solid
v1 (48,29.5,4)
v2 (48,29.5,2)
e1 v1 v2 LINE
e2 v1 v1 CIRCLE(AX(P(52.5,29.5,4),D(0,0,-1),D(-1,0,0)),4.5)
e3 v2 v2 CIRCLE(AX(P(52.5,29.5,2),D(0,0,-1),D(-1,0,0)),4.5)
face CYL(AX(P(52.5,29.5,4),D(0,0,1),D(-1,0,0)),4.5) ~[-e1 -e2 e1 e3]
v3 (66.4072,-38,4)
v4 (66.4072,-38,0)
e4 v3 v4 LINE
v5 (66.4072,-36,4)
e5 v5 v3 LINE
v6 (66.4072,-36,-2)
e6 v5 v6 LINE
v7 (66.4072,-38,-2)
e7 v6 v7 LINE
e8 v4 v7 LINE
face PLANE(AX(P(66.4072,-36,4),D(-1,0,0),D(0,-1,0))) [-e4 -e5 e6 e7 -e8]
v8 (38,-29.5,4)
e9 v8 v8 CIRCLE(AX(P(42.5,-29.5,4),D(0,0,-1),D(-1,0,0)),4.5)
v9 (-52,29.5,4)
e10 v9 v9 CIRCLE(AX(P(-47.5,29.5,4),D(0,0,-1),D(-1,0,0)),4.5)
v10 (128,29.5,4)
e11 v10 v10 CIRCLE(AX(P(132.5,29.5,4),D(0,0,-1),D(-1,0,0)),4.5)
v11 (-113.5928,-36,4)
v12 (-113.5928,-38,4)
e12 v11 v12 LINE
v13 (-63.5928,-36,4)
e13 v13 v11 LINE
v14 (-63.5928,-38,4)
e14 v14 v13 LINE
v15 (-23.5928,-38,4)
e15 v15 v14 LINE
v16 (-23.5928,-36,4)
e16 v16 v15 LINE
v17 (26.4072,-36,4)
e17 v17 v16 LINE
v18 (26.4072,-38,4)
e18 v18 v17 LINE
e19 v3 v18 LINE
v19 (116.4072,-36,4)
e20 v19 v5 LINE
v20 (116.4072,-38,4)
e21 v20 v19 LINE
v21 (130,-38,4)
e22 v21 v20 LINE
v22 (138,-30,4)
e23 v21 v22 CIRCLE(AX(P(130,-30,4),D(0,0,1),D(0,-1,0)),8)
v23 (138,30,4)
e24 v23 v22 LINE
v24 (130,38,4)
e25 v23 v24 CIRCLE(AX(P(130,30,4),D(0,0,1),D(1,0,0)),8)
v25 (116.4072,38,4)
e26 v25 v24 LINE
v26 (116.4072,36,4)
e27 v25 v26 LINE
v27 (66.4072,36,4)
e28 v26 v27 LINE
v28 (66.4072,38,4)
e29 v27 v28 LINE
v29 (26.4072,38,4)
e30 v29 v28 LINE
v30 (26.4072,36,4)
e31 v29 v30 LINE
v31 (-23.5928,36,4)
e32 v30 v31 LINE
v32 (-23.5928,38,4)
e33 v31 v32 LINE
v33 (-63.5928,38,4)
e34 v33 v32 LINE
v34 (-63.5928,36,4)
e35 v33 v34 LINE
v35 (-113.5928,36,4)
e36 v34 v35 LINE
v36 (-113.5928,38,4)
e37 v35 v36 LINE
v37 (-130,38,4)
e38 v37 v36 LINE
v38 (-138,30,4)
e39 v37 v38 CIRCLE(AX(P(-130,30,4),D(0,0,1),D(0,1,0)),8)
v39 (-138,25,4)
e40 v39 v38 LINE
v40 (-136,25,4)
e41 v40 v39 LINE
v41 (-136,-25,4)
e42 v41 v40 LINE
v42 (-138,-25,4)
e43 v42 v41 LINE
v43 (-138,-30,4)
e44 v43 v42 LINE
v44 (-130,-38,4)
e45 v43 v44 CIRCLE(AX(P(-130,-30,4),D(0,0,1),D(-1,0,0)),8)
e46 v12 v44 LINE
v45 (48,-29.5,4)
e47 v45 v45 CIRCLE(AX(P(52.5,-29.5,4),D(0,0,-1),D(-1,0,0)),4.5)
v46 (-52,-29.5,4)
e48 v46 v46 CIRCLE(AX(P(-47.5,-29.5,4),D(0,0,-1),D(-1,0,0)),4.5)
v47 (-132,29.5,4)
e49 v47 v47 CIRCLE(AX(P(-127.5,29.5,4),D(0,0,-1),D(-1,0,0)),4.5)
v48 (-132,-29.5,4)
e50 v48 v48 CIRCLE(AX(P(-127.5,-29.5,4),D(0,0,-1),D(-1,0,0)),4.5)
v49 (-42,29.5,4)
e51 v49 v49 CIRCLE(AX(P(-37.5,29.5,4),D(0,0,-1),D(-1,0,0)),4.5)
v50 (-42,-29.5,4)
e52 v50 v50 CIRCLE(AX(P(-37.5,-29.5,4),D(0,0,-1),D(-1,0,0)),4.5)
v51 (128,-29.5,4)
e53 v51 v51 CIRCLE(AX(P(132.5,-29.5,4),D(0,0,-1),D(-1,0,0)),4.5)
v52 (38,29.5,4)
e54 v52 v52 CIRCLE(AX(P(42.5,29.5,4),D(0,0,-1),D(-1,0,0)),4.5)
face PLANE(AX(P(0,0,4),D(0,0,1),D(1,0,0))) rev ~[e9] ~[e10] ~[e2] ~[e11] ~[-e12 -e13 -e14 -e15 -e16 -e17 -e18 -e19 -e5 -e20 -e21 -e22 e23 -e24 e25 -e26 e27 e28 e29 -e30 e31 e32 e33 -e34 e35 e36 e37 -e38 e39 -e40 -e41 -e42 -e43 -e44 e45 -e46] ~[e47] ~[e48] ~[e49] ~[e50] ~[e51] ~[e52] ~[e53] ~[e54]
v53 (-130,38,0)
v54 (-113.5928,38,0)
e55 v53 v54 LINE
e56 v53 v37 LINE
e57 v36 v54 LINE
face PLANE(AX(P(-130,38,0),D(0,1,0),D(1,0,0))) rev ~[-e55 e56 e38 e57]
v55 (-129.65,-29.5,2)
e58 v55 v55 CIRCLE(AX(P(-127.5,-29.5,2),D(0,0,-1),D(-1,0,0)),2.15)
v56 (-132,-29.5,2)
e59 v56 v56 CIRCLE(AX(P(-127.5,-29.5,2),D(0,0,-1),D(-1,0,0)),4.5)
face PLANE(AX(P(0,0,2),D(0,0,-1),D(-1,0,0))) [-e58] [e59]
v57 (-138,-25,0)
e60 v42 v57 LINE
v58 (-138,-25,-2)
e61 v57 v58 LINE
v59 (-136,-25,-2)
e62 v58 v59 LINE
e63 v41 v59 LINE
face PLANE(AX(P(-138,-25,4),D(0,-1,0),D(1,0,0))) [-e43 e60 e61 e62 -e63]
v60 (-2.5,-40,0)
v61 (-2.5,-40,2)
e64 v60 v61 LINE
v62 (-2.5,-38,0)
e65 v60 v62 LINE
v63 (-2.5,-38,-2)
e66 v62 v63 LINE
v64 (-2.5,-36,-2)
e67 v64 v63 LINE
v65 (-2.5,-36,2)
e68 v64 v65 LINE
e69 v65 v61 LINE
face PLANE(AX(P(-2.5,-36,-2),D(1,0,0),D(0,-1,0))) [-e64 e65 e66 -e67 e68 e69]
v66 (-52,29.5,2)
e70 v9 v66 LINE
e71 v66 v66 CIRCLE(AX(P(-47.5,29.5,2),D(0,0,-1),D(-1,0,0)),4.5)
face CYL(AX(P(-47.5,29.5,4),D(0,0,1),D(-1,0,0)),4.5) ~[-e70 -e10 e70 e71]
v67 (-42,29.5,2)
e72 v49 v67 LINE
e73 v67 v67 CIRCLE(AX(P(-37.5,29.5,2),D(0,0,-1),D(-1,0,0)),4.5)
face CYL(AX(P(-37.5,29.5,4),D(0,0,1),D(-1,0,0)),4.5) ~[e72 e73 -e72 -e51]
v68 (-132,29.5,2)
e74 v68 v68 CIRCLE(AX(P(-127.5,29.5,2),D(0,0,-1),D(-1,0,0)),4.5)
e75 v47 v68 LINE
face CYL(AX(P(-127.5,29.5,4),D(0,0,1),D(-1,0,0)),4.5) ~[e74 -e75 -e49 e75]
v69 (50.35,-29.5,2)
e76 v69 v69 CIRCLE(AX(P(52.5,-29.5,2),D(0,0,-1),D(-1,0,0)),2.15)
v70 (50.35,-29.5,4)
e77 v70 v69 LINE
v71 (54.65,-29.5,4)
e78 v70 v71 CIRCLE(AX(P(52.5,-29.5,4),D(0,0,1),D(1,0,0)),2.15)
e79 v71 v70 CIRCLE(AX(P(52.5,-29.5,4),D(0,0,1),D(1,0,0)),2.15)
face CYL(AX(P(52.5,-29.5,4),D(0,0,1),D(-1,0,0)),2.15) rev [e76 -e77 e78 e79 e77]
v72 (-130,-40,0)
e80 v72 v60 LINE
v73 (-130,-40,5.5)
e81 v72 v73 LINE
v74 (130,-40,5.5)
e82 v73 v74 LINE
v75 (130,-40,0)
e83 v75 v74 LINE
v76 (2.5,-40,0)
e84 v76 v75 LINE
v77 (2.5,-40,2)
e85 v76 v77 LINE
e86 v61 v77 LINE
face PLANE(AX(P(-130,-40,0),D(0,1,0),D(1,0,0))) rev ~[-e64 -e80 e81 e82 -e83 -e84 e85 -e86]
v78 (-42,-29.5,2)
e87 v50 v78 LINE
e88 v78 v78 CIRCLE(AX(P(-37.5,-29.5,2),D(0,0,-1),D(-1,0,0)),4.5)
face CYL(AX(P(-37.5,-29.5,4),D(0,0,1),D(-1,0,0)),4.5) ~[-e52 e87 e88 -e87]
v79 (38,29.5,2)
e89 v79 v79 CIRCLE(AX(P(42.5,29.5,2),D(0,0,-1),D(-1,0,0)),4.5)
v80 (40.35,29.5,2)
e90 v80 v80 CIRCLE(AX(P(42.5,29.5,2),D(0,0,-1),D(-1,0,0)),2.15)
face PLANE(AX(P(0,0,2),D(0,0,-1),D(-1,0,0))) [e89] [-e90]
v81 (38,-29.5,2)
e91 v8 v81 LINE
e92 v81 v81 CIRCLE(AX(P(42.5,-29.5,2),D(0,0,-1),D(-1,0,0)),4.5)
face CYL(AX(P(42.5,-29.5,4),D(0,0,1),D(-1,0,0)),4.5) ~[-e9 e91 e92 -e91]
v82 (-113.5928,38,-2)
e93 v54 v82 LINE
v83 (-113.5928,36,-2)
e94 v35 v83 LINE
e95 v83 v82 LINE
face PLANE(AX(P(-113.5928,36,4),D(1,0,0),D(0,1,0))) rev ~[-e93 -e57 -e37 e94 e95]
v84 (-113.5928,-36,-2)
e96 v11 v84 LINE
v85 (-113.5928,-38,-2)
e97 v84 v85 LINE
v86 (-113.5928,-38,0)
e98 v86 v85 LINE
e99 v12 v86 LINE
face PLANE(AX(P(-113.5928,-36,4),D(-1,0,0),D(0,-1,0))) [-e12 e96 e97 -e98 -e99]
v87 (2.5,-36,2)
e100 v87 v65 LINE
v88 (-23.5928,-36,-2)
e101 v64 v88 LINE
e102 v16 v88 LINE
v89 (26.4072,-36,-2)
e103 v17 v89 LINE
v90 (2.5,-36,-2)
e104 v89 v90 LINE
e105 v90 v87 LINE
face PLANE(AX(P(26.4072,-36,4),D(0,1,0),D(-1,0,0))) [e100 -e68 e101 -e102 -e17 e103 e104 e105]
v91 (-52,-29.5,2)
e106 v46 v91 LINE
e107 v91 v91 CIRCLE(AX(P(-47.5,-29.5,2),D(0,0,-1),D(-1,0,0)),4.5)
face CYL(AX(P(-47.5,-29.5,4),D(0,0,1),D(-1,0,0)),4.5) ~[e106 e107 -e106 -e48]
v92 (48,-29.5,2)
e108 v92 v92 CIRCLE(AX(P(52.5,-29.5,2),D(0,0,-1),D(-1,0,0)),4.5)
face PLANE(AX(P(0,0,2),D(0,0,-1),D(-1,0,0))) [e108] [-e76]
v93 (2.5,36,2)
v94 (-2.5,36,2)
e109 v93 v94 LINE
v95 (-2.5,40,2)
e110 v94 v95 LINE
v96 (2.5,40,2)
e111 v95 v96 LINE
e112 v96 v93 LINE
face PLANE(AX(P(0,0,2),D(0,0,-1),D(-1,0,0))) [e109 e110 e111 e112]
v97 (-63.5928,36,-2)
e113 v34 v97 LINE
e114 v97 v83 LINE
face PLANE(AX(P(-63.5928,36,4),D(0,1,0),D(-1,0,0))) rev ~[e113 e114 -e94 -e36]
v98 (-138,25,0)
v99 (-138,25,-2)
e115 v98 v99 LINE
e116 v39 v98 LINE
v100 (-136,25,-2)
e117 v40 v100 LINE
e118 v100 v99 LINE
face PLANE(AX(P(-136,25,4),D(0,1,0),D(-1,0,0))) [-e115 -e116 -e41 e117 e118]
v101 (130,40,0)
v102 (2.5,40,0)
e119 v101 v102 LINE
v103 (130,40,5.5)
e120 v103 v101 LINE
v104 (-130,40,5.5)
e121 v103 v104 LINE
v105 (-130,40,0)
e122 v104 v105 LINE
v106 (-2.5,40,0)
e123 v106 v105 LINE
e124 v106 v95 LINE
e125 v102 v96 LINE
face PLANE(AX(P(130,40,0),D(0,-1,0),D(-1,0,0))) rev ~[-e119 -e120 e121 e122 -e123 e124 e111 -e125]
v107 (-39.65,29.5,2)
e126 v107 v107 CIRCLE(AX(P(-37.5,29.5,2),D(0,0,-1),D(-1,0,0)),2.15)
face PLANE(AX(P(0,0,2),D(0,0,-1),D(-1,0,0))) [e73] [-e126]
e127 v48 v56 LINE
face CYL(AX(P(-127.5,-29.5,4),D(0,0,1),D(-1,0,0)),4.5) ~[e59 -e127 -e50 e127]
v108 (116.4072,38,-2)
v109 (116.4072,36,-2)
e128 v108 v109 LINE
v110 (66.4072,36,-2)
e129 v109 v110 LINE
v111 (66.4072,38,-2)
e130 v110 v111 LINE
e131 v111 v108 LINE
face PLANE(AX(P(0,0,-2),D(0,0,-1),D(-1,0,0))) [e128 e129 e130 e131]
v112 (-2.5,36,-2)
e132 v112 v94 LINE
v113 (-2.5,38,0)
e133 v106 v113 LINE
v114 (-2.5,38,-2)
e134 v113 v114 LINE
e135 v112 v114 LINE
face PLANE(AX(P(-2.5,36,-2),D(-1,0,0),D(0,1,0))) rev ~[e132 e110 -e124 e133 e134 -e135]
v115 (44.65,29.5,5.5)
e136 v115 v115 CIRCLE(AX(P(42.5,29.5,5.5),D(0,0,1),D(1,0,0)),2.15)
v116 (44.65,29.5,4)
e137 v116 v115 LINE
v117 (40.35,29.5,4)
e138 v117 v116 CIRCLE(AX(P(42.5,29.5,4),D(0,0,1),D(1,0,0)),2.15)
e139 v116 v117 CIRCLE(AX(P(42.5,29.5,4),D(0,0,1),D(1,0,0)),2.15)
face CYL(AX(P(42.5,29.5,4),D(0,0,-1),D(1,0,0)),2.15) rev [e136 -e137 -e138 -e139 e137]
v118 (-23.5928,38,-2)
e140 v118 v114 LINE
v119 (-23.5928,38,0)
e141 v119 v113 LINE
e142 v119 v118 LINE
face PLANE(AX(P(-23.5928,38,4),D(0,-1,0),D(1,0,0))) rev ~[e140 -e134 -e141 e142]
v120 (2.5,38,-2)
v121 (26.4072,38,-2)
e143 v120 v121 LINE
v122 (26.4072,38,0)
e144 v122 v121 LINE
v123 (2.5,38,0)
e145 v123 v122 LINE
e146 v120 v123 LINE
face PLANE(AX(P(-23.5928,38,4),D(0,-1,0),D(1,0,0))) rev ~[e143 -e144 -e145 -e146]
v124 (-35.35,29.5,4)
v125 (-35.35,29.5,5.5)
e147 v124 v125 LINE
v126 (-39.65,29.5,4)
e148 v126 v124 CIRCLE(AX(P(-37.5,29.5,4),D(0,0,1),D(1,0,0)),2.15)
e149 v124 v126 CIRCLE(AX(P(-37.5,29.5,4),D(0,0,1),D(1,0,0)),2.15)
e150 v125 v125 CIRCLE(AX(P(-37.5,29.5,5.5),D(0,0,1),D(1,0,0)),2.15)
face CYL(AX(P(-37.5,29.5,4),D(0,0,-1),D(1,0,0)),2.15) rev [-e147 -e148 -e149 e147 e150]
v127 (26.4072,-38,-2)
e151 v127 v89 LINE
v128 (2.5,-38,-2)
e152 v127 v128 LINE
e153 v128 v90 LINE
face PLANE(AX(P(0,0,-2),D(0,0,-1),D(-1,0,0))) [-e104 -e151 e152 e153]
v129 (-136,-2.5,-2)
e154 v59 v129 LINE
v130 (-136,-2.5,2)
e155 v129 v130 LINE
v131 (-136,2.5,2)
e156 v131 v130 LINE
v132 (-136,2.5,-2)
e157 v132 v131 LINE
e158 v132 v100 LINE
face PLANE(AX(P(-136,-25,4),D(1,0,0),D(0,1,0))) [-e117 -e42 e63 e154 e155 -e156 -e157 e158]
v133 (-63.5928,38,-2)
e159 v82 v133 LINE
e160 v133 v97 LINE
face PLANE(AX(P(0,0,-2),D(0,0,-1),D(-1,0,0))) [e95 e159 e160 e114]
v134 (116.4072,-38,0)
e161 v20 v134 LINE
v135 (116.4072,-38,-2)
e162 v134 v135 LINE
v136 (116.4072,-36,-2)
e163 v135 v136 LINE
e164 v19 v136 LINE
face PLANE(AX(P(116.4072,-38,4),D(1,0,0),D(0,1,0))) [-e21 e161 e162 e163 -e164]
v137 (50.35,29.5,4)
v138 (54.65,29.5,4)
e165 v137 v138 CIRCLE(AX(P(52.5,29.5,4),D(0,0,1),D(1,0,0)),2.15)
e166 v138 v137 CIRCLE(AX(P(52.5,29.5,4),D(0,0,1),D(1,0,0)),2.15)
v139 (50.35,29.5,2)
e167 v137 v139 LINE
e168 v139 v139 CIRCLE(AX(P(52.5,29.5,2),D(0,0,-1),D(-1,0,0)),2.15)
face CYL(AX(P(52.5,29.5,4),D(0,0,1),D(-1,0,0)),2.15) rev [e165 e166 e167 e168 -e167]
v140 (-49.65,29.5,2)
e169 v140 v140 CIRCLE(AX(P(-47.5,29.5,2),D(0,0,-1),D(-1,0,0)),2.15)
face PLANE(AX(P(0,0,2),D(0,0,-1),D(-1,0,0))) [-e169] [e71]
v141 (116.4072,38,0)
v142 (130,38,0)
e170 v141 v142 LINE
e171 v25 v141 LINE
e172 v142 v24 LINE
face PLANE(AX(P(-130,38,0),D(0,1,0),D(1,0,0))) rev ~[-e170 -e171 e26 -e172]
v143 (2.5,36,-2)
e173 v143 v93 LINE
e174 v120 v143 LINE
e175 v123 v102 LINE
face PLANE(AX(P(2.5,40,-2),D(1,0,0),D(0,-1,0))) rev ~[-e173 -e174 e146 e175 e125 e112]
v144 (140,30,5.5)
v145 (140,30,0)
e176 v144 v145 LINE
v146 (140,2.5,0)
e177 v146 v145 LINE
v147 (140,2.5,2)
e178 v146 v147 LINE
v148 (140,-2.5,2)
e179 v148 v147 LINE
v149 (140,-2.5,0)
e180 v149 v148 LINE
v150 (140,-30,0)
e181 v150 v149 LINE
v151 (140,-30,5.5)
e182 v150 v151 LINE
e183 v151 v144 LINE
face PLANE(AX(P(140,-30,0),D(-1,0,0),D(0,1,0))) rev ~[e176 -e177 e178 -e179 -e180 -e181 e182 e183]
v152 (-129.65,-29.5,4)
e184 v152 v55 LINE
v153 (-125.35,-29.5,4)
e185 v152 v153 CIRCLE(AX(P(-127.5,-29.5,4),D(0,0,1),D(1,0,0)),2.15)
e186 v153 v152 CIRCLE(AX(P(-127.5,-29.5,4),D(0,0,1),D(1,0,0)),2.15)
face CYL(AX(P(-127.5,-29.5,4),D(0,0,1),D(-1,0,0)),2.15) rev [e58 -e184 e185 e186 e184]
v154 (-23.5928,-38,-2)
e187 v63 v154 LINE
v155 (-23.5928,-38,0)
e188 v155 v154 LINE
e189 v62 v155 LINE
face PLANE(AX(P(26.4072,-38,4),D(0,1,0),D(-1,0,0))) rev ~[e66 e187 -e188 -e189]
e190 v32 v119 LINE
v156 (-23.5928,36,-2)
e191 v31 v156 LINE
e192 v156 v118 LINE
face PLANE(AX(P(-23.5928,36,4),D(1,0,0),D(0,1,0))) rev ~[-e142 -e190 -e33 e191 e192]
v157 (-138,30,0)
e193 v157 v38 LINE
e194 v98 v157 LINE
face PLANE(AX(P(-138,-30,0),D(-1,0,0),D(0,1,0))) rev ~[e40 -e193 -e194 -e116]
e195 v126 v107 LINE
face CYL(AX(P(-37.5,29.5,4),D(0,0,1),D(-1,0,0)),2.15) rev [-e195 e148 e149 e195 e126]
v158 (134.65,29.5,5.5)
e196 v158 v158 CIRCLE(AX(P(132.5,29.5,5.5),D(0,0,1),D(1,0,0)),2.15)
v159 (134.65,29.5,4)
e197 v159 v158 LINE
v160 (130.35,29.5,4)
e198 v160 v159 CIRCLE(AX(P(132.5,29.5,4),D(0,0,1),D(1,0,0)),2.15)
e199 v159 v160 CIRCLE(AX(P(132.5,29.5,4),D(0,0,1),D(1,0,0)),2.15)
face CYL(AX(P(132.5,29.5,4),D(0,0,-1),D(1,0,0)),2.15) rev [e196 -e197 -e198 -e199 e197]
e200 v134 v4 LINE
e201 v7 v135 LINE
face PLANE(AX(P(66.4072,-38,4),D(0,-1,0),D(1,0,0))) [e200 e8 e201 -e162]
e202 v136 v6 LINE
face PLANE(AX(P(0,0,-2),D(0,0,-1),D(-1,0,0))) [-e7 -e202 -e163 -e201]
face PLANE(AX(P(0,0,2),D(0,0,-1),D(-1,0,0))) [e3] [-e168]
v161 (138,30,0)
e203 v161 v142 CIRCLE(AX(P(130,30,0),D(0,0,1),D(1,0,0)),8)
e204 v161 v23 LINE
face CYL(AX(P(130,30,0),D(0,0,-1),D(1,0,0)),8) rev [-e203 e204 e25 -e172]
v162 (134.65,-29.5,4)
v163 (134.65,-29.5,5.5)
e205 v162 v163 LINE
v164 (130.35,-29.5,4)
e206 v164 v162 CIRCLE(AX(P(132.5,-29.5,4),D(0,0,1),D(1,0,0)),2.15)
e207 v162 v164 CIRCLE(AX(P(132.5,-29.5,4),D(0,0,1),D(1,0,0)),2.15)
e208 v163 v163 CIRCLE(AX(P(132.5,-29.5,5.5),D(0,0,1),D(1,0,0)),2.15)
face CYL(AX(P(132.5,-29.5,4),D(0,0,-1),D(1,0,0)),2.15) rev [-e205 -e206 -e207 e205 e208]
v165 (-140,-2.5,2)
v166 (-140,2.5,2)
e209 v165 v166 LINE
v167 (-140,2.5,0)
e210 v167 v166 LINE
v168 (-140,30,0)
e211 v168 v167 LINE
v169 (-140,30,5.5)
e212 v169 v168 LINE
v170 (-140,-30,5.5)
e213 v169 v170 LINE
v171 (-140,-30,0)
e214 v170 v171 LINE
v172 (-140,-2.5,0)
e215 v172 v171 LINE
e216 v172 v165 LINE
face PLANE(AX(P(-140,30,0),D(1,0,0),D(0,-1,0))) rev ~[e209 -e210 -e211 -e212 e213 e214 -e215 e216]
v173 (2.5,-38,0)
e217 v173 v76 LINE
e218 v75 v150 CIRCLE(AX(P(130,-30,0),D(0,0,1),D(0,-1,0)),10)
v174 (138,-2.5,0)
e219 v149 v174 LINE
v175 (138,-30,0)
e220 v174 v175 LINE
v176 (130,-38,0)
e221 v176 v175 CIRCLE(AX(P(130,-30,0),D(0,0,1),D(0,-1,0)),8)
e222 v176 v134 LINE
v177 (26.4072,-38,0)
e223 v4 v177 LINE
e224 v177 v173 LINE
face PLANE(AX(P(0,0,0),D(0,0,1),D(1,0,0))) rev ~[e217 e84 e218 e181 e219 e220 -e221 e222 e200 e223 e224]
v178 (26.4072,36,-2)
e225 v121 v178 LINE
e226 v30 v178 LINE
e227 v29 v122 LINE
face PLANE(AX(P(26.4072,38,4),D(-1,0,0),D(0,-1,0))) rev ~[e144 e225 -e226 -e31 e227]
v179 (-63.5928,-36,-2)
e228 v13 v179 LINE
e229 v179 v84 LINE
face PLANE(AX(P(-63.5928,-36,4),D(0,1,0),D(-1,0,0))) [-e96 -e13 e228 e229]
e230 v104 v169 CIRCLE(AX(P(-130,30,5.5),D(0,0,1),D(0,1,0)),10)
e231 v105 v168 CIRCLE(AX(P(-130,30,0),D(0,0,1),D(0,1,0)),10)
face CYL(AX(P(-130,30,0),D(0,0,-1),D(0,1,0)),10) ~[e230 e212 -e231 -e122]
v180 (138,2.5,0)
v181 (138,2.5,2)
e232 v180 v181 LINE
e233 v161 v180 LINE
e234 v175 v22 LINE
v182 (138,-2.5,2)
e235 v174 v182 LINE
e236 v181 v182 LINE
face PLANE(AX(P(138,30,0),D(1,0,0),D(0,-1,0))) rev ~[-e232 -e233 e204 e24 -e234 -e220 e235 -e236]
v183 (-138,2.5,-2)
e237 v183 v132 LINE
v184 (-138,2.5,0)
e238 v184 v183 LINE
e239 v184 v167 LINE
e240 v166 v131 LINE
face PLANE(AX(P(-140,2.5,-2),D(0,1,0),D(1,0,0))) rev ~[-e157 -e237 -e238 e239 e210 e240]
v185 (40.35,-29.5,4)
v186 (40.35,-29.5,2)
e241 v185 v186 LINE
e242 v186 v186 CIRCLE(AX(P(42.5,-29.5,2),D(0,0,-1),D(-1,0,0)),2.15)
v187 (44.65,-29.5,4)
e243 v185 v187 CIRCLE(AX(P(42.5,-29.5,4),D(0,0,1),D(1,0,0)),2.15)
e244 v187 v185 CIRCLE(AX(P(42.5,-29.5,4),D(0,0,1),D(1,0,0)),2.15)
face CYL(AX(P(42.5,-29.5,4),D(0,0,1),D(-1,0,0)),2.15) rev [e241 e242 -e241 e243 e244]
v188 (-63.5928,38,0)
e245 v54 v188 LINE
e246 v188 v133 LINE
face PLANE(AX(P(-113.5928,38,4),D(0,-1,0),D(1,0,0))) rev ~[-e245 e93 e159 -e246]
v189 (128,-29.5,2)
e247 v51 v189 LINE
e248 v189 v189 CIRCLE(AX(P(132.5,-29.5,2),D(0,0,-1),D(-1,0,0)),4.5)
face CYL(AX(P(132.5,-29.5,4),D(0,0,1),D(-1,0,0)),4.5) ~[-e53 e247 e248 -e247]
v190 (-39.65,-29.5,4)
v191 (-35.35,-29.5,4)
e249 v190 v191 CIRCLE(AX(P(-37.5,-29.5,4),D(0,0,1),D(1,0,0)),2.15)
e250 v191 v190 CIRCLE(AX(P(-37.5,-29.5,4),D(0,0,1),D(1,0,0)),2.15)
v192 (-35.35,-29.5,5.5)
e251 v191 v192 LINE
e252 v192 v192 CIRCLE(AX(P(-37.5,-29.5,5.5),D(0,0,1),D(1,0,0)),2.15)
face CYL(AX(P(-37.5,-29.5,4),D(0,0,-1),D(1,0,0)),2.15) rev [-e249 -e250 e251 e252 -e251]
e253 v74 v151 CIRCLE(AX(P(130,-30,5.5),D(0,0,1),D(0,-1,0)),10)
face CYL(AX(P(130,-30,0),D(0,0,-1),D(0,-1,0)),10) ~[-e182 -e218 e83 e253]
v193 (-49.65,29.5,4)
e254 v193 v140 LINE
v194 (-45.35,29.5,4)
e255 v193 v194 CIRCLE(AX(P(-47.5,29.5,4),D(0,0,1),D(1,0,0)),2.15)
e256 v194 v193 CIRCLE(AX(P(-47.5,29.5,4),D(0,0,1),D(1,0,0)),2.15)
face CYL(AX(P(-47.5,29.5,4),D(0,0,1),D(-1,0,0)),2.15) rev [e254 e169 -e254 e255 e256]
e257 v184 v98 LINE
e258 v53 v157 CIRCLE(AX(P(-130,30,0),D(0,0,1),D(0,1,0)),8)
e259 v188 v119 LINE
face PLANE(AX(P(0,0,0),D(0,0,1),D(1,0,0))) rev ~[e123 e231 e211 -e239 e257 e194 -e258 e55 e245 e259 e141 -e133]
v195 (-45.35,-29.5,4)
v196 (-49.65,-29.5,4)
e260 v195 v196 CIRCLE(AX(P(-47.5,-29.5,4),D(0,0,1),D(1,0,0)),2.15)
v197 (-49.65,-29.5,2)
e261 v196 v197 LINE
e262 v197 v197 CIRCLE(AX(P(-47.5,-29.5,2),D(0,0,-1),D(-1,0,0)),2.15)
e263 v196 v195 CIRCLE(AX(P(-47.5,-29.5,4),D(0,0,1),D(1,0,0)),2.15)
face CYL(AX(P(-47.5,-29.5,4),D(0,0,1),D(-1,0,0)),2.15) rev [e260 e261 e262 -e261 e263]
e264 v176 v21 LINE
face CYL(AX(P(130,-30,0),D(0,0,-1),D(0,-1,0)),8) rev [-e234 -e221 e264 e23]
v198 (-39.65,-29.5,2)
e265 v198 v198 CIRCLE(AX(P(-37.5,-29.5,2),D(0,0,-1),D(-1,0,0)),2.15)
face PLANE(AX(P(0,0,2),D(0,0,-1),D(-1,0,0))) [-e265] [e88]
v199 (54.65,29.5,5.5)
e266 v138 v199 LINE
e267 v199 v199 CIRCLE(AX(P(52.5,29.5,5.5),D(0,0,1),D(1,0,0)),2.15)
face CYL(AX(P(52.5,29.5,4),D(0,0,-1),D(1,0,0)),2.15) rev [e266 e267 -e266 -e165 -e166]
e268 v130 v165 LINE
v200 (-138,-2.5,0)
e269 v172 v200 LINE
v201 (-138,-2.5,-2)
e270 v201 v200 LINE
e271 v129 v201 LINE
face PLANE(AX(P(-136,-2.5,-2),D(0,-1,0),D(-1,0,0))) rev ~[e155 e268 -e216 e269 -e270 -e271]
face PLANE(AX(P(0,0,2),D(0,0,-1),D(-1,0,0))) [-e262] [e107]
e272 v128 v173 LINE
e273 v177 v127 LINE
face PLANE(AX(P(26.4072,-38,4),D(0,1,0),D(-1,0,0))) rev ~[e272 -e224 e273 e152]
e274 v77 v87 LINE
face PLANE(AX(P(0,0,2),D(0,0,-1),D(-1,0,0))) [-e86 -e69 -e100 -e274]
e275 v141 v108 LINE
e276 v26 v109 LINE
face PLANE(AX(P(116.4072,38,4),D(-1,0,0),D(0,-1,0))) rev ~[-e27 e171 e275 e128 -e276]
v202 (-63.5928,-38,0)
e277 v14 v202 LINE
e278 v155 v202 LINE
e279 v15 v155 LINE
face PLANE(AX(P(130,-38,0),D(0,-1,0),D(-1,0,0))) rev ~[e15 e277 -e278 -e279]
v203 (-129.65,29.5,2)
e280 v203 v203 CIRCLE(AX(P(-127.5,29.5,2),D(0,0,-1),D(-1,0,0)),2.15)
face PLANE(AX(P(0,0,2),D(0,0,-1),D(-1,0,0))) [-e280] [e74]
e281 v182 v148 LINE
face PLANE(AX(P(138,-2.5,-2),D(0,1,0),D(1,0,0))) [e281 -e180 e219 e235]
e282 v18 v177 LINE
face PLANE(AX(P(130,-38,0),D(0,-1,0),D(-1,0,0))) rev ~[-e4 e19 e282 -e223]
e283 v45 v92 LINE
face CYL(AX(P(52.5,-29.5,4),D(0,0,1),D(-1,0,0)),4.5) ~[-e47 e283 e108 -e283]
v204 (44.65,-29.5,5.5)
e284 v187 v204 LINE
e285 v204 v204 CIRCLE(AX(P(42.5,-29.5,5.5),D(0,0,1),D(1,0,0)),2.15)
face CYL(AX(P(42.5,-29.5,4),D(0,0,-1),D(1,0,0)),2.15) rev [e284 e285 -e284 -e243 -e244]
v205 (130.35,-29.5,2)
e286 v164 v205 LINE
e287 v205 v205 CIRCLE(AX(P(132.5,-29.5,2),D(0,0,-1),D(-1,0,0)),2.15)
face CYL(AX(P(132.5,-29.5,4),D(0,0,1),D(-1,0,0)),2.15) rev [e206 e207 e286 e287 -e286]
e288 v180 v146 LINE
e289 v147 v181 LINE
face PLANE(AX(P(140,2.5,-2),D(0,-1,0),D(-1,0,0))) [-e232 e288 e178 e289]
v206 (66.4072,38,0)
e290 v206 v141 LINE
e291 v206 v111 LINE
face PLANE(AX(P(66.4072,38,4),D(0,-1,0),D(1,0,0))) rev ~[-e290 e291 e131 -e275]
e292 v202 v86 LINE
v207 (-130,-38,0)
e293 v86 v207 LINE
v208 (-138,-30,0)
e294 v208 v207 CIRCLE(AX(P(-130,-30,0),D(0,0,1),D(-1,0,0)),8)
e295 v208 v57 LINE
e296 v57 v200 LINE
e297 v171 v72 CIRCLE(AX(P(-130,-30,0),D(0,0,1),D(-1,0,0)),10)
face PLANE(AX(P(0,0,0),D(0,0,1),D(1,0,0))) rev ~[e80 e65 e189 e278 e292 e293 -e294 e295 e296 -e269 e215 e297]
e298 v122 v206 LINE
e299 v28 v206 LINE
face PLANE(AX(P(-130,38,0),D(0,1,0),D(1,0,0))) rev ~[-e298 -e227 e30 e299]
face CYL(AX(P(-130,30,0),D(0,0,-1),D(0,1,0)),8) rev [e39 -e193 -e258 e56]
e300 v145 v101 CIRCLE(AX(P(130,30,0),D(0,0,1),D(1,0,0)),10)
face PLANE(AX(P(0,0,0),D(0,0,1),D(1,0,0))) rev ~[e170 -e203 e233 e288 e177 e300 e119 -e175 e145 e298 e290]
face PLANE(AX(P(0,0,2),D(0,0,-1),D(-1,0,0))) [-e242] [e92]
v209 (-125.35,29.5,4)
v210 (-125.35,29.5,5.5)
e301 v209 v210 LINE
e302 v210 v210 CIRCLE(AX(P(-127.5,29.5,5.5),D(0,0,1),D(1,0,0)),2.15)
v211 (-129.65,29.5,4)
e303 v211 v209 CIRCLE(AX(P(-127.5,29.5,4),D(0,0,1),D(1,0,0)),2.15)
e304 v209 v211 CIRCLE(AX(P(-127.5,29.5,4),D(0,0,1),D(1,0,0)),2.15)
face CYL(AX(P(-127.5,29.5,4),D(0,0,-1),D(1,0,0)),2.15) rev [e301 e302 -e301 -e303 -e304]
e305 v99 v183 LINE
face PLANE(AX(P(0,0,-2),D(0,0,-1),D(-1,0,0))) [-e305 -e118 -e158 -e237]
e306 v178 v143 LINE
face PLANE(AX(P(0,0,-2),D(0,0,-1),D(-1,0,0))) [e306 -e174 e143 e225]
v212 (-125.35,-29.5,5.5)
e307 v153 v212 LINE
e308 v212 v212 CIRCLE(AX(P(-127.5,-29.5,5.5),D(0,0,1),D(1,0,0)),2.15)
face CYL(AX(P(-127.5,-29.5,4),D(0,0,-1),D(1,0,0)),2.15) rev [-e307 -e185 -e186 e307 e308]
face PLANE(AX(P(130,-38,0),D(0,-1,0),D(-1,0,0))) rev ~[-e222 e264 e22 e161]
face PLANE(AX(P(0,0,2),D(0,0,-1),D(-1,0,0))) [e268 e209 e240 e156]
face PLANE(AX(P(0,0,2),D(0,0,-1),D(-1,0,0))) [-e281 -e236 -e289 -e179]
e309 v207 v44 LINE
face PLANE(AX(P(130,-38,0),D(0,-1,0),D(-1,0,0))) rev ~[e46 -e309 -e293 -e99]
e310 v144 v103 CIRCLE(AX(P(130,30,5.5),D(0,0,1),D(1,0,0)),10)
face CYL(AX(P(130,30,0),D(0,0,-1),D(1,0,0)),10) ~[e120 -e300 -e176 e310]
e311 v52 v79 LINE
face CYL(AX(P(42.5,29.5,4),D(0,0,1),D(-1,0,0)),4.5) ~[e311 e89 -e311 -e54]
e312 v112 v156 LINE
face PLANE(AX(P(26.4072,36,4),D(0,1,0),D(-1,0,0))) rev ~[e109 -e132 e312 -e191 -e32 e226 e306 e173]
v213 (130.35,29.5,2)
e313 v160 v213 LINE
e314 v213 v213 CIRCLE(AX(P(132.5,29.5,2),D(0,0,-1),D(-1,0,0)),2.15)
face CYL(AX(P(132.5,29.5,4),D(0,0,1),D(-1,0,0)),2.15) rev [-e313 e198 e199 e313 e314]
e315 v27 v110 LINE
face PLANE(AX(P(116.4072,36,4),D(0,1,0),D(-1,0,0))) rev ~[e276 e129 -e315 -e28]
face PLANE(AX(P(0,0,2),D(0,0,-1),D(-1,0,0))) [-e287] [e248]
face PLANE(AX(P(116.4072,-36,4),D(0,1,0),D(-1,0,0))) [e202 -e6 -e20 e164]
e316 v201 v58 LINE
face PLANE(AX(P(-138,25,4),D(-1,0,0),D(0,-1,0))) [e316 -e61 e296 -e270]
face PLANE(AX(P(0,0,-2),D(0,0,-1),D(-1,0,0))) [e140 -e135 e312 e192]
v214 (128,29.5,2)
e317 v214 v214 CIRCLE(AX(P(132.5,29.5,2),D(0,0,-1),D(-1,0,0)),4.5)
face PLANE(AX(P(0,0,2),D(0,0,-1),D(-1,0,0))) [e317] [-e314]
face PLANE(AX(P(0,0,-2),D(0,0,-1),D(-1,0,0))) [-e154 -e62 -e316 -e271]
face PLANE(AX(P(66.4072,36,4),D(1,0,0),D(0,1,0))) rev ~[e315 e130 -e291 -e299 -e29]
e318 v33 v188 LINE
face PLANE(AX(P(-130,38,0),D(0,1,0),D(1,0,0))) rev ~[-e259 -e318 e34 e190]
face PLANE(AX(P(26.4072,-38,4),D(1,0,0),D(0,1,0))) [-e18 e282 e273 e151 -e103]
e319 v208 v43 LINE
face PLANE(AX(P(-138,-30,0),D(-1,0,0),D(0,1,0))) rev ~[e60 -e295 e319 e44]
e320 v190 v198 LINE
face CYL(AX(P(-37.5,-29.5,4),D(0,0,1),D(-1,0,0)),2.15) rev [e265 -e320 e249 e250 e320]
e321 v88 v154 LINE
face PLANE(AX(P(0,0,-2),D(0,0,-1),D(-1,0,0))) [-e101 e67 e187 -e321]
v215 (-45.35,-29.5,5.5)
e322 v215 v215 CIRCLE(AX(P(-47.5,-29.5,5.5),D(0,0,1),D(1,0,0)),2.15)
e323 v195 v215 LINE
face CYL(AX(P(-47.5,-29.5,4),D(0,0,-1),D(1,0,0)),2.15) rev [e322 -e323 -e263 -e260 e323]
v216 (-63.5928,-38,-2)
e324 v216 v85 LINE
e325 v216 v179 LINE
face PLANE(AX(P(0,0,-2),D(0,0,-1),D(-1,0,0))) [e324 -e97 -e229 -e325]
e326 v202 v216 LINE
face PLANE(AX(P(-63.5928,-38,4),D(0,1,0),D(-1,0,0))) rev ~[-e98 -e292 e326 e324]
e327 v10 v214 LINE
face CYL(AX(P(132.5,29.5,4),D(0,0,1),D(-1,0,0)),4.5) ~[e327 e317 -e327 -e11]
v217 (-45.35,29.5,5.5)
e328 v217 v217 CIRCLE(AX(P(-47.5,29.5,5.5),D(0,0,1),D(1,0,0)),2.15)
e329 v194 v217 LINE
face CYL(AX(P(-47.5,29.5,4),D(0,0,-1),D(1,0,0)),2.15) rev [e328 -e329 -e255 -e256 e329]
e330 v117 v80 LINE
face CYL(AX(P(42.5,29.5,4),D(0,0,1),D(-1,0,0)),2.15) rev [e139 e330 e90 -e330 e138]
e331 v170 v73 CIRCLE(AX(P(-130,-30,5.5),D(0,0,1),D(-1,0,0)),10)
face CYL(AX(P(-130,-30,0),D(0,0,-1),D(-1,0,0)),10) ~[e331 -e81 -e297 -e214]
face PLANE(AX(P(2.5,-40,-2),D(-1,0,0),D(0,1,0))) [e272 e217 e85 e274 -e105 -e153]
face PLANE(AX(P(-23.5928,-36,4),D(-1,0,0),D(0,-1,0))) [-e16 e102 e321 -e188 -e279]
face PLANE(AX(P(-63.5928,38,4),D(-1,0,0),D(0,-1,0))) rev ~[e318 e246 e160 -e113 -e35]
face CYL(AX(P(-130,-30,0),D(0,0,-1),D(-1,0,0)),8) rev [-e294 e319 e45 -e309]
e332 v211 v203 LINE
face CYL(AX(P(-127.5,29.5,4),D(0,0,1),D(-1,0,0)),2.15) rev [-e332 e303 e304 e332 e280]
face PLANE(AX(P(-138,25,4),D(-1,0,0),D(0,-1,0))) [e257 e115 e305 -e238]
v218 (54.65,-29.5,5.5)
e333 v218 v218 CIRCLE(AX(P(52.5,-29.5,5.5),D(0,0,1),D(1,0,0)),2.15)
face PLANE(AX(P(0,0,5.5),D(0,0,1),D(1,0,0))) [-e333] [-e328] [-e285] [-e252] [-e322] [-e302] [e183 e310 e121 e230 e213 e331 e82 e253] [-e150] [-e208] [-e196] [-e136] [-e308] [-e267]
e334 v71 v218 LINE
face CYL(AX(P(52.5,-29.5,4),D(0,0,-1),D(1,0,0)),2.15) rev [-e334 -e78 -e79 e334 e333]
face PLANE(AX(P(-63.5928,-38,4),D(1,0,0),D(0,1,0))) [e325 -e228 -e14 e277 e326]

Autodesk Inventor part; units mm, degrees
ref_plane "YZ Plane" through (0, 0, 0) normal (1, 0, 0) x (0, 1, 0)
ref_plane "XZ Plane" through (0, 0, 0) normal (0, 1, 0) x (-1, 0, 0)
ref_plane "XY Plane" through (0, 0, 0) normal (0, 0, 1) x (1, 0, 0)
ref_plane "Work Plane1" through (0, 0, 0) normal (0, 0, 1) x (1, 0, 0)
sketch "Sketch1" plane through (0, 0, 0) normal (0, 0, 1) x (1, 0, 0)
  line L0 (-130, -40) -> (130, -40) projected
  arc A0 (130, -40) -> (140, -30) centre (130, -30) ccw projected
  line L1 (140, -30) -> (140, 30) projected
  arc A1 (140, 30) -> (130, 40) centre (130, 30) ccw projected
  line L2 (130, 40) -> (-130, 40) projected
  arc A2 (-130, 40) -> (-140, 30) centre (-130, 30) ccw projected
  line L3 (-140, 30) -> (-140, -30) projected
  arc A3 (-140, -30) -> (-130, -40) centre (-130, -30) ccw projected
  arc A4 (130, -38) -> (138, -30) centre (130, -30) ccw projected
  line L4 (130, -38) -> (-130, -38) projected
  arc A5 (-138, -30) -> (-130, -38) centre (-130, -30) ccw projected
  line L5 (-138, -30) -> (-138, 30) projected
  arc A6 (-130, 38) -> (-138, 30) centre (-130, 30) ccw projected
  line L6 (-130, 38) -> (130, 38) projected
  arc A7 (138, 30) -> (130, 38) centre (130, 30) ccw projected
  line L7 (138, 30) -> (138, -30) projected
  circle A8 centre (132.5, 29.5) radius 2.15 projected
  circle A9 centre (132.5, -29.5) radius 2.15 projected
  circle A10 centre (52.5, 29.5) radius 2.15 projected
  circle A11 centre (42.5, 29.5) radius 2.15 projected
  circle A12 centre (42.5, -29.5) radius 2.15 projected
  circle A13 centre (52.5, -29.5) radius 2.15 projected
  circle A14 centre (-37.5, 29.5) radius 2.15 projected
  circle A15 centre (-37.5, -29.5) radius 2.15 projected
  circle A16 centre (-47.5, -29.5) radius 2.15 projected
  circle A17 centre (-47.5, 29.5) radius 2.15 projected
  circle A18 centre (-127.5, 29.5) radius 2.15 projected
  circle A19 centre (-127.5, -29.5) radius 2.15 projected
  point P0 (0, 0)
extrude "Extrusion1" add sketch "Sketch1" along normal blind 4 contours A3 L3 A2 L2 A1 L1 A0 L0
sketch "Sketch2" plane through (0, 0, 4) normal (0, 0, 1) x (1, 0, 0)
  arc A0 (130, -40) -> (140, -30) centre (130, -30) ccw projected
  line L0 (140, -30) -> (140, 30) projected
  arc A1 (140, 30) -> (130, 40) centre (130, 30) ccw projected
  line L1 (130, 40) -> (-130, 40) projected
  arc A2 (-130, 40) -> (-140, 30) centre (-130, 30) ccw projected
  line L2 (-140, 30) -> (-140, -30) projected
  arc A3 (-140, -30) -> (-130, -40) centre (-130, -30) ccw projected
  line L3 (-130, -40) -> (130, -40) projected
  line L4 (-138, -30) -> (-138, 30) projected
  arc A4 (-130, 38) -> (-138, 30) centre (-130, 30) ccw projected
  line L5 (-130, 38) -> (130, 38) projected
  arc A5 (138, 30) -> (130, 38) centre (130, 30) ccw projected
  line L6 (138, 30) -> (138, -30) projected
  arc A6 (130, -38) -> (138, -30) centre (130, -30) ccw projected
  line L7 (130, -38) -> (-130, -38) projected
  arc A7 (-138, -30) -> (-130, -38) centre (-130, -30) ccw projected
  circle A8 centre (-127.5, 29.5) radius 2.15 projected
  circle A9 centre (-127.5, -29.5) radius 2.15 projected
  circle A10 centre (-47.5, -29.5) radius 2.15 projected
  circle A11 centre (-47.5, 29.5) radius 2.15 projected
  circle A12 centre (-37.5, 29.5) radius 2.15 projected
  circle A13 centre (-37.5, -29.5) radius 2.15 projected
  circle A14 centre (42.5, -29.5) radius 2.15 projected
  circle A15 centre (42.5, 29.5) radius 2.15 projected
  circle A16 centre (52.5, 29.5) radius 2.15 projected
  circle A17 centre (52.5, -29.5) radius 2.15 projected
  circle A18 centre (132.5, 29.5) radius 2.15 projected
  circle A19 centre (132.5, -29.5) radius 2.15 projected
  point P0 (0, 0)
extrude "Extrusion2" add sketch "Sketch2" along normal blind 1.5 contours L3 A3 L2 A2 L1 A1 L0 A0 | L4 A4 L5 A5 L6 A6 L7 A7
sketch "Sketch3" plane through (0, 0, 4) normal (0, 0, -1) x (-1, 0, 0)
  circle A0 centre (-132.5, 29.5) radius 2.15 projected
  circle A1 centre (-132.5, 29.5) radius 4.5
  circle A2 centre (-132.5, -29.5) radius 2.15 projected
  circle A3 centre (-132.5, -29.5) radius 4.5
  circle A4 centre (-52.5, 29.5) radius 2.15 projected
  circle A5 centre (-52.5, 29.5) radius 4.5
  circle A6 centre (-42.5, 29.5) radius 2.15 projected
  circle A7 centre (-42.5, 29.5) radius 4.5
  circle A8 centre (-52.5, -29.5) radius 2.15 projected
  circle A9 centre (-52.5, -29.5) radius 4.5
  circle A10 centre (-42.5, -29.5) radius 2.15 projected
  circle A11 centre (-42.5, -29.5) radius 4.5
  circle A12 centre (37.5, 29.5) radius 2.15 projected
  circle A13 centre (37.5, 29.5) radius 4.5
  circle A14 centre (47.5, 29.5) radius 2.15 projected
  circle A15 centre (47.5, 29.5) radius 4.5
  circle A16 centre (37.5, -29.5) radius 2.15 projected
  circle A17 centre (37.5, -29.5) radius 4.5
  circle A18 centre (47.5, -29.5) radius 2.15 projected
  circle A19 centre (47.5, -29.5) radius 4.5
  circle A20 centre (127.5, -29.5) radius 2.15 projected
  circle A21 centre (127.5, -29.5) radius 4.5
  circle A22 centre (127.5, 29.5) radius 2.15 projected
  circle A23 centre (127.5, 29.5) radius 4.5
  point P0 (0, 0)
  dimension "d4" = 9
extrude "Extrusion3" add sketch "Sketch3" along normal blind 2
sketch "Sketch4" plane through (0, 0, 4) normal (0, 0, -1) x (-1, 0, 0)
  line L0 (-116.4072, -36) -> (-66.4072, -36)
  line L1 (-66.4072, -36) -> (-66.4072, -38)
  line L2 (-66.4072, -38) -> (-116.4072, -38)
  line L3 (-116.4072, -38) -> (-116.4072, -36)
  circle A0 centre (-132.5, -29.5) radius 2.15 projected
  line L4 (-132.5, -29.5) -> (-50.3144, -29.5)
  line L5 (-130, -38) -> (130, -38) projected
  line L6 (0, 0) -> (-95.519, 0)
  line L7 (-116.4072, 36) -> (-66.4072, 36)
  line L8 (-66.4072, 36) -> (-66.4072, 38)
  line L9 (-66.4072, 38) -> (-116.4072, 38)
  line L10 (-116.4072, 38) -> (-116.4072, 36)
  line L11 (-26.4072, 36) -> (23.5928, 36)
  line L12 (23.5928, 36) -> (23.5928, 38)
  line L13 (23.5928, 38) -> (-26.4072, 38)
  line L14 (-26.4072, 38) -> (-26.4072, 36)
  line L15 (-26.4072, -36) -> (23.5928, -36)
  line L16 (23.5928, -38) -> (-26.4072, -38)
  line L17 (-26.4072, -38) -> (-26.4072, -36)
  line L18 (23.5928, -36) -> (23.5928, -38)
  line L19 (63.5928, 36) -> (113.5928, 36)
  line L20 (113.5928, 36) -> (113.5928, 38)
  line L21 (113.5928, 38) -> (63.5928, 38)
  line L22 (63.5928, 38) -> (63.5928, 36)
  line L23 (63.5928, -36) -> (113.5928, -36)
  line L24 (113.5928, -38) -> (63.5928, -38)
  line L25 (63.5928, -38) -> (63.5928, -36)
  line L26 (113.5928, -36) -> (113.5928, -38)
  line L27 (136, 25) -> (138, 25)
  line L28 (138, 25) -> (138, -25)
  line L29 (138, -25) -> (136, -25)
  line L30 (136, -25) -> (136, 25)
  line L31 (138, -30) -> (138, 30) projected
  point P0 (-91.4072, -29.5)
  point P1 (-91.4072, -36)
  point P2 (-91.4072, -38)
  point P3 (-91.4072, 36)
  point P4 (-91.4072, 38)
  point P5 (-1.4072, 36)
  point P6 (-1.4072, 38)
  point P7 (-1.4072, -36)
  point P8 (-1.4072, -38)
  point P9 (88.5928, 36)
  point P10 (88.5928, 38)
  point P11 (88.5928, -36)
  point P12 (88.5928, -38)
  point P13 (138, 0)
  dimension "d7" = 2
  dimension "d8" = 50
  dimension "d11" = 90
  dimension "d18" = 72
extrude "Extrusion4" add sketch "Sketch4" along normal blind 6 contours L25 L23 L26 L5 | L17 L15 L18 L5 | L0 L1 L2 L3 | L10 L9 L8 L7 | L14 L13 L12 L11 | L22 L21 L20 L19 | L27 L28 L29 L30
sketch "Sketch5" plane through (0, 0, -2) normal (0, 0, -1) x (-1, 0, 0)
  line L0 (136, -2.5) -> (140, -2.5)
  line L1 (140, -2.5) -> (140, 2.5)
  line L2 (140, 2.5) -> (136, 2.5)
  line L3 (136, 2.5) -> (136, -2.5)
  line L4 (140, 30) -> (140, -30) projected
  line L5 (136, 25) -> (136, -25) projected
  line L6 (-2.5, 36) -> (2.5, 36)
  line L7 (2.5, 36) -> (2.5, 40)
  line L8 (2.5, 40) -> (-2.5, 40)
  line L9 (-2.5, 40) -> (-2.5, 36)
  line L10 (-2.5, -36) -> (2.5, -36)
  line L11 (2.5, -36) -> (2.5, -40)
  line L12 (2.5, -40) -> (-2.5, -40)
  line L13 (-2.5, -40) -> (-2.5, -36)
  line L14 (-140, 2.5) -> (-138, 2.5)
  line L15 (-138, 2.5) -> (-138, -2.5)
  line L16 (-138, -2.5) -> (-140, -2.5)
  line L17 (-140, -2.5) -> (-140, 2.5)
  line L18 (-130, 40) -> (130, 40) projected
  line L19 (130, -40) -> (-130, -40) projected
  line L20 (-140, -30) -> (-140, 30) projected
  line L21 (-138, 30) -> (-138, -30) projected
  line L22 (-26.4072, 36) -> (23.5928, 36) projected
  line L23 (23.5928, -36) -> (-26.4072, -36) projected
  point P0 (0, 0)
  point P1 (138, -2.5)
  point P2 (136, 0)
  point P3 (0, 40)
  point P4 (0, -40)
  point P5 (-140, 0)
  point P6 (-138, 0)
  point P7 (0, 36)
  point P8 (0, -36)
  dimension "d19" = 5
extrude "Extrusion5" cut sketch "Sketch5" against normal blind 4
properties part number "led 7 seg with sec v3 bottom"
